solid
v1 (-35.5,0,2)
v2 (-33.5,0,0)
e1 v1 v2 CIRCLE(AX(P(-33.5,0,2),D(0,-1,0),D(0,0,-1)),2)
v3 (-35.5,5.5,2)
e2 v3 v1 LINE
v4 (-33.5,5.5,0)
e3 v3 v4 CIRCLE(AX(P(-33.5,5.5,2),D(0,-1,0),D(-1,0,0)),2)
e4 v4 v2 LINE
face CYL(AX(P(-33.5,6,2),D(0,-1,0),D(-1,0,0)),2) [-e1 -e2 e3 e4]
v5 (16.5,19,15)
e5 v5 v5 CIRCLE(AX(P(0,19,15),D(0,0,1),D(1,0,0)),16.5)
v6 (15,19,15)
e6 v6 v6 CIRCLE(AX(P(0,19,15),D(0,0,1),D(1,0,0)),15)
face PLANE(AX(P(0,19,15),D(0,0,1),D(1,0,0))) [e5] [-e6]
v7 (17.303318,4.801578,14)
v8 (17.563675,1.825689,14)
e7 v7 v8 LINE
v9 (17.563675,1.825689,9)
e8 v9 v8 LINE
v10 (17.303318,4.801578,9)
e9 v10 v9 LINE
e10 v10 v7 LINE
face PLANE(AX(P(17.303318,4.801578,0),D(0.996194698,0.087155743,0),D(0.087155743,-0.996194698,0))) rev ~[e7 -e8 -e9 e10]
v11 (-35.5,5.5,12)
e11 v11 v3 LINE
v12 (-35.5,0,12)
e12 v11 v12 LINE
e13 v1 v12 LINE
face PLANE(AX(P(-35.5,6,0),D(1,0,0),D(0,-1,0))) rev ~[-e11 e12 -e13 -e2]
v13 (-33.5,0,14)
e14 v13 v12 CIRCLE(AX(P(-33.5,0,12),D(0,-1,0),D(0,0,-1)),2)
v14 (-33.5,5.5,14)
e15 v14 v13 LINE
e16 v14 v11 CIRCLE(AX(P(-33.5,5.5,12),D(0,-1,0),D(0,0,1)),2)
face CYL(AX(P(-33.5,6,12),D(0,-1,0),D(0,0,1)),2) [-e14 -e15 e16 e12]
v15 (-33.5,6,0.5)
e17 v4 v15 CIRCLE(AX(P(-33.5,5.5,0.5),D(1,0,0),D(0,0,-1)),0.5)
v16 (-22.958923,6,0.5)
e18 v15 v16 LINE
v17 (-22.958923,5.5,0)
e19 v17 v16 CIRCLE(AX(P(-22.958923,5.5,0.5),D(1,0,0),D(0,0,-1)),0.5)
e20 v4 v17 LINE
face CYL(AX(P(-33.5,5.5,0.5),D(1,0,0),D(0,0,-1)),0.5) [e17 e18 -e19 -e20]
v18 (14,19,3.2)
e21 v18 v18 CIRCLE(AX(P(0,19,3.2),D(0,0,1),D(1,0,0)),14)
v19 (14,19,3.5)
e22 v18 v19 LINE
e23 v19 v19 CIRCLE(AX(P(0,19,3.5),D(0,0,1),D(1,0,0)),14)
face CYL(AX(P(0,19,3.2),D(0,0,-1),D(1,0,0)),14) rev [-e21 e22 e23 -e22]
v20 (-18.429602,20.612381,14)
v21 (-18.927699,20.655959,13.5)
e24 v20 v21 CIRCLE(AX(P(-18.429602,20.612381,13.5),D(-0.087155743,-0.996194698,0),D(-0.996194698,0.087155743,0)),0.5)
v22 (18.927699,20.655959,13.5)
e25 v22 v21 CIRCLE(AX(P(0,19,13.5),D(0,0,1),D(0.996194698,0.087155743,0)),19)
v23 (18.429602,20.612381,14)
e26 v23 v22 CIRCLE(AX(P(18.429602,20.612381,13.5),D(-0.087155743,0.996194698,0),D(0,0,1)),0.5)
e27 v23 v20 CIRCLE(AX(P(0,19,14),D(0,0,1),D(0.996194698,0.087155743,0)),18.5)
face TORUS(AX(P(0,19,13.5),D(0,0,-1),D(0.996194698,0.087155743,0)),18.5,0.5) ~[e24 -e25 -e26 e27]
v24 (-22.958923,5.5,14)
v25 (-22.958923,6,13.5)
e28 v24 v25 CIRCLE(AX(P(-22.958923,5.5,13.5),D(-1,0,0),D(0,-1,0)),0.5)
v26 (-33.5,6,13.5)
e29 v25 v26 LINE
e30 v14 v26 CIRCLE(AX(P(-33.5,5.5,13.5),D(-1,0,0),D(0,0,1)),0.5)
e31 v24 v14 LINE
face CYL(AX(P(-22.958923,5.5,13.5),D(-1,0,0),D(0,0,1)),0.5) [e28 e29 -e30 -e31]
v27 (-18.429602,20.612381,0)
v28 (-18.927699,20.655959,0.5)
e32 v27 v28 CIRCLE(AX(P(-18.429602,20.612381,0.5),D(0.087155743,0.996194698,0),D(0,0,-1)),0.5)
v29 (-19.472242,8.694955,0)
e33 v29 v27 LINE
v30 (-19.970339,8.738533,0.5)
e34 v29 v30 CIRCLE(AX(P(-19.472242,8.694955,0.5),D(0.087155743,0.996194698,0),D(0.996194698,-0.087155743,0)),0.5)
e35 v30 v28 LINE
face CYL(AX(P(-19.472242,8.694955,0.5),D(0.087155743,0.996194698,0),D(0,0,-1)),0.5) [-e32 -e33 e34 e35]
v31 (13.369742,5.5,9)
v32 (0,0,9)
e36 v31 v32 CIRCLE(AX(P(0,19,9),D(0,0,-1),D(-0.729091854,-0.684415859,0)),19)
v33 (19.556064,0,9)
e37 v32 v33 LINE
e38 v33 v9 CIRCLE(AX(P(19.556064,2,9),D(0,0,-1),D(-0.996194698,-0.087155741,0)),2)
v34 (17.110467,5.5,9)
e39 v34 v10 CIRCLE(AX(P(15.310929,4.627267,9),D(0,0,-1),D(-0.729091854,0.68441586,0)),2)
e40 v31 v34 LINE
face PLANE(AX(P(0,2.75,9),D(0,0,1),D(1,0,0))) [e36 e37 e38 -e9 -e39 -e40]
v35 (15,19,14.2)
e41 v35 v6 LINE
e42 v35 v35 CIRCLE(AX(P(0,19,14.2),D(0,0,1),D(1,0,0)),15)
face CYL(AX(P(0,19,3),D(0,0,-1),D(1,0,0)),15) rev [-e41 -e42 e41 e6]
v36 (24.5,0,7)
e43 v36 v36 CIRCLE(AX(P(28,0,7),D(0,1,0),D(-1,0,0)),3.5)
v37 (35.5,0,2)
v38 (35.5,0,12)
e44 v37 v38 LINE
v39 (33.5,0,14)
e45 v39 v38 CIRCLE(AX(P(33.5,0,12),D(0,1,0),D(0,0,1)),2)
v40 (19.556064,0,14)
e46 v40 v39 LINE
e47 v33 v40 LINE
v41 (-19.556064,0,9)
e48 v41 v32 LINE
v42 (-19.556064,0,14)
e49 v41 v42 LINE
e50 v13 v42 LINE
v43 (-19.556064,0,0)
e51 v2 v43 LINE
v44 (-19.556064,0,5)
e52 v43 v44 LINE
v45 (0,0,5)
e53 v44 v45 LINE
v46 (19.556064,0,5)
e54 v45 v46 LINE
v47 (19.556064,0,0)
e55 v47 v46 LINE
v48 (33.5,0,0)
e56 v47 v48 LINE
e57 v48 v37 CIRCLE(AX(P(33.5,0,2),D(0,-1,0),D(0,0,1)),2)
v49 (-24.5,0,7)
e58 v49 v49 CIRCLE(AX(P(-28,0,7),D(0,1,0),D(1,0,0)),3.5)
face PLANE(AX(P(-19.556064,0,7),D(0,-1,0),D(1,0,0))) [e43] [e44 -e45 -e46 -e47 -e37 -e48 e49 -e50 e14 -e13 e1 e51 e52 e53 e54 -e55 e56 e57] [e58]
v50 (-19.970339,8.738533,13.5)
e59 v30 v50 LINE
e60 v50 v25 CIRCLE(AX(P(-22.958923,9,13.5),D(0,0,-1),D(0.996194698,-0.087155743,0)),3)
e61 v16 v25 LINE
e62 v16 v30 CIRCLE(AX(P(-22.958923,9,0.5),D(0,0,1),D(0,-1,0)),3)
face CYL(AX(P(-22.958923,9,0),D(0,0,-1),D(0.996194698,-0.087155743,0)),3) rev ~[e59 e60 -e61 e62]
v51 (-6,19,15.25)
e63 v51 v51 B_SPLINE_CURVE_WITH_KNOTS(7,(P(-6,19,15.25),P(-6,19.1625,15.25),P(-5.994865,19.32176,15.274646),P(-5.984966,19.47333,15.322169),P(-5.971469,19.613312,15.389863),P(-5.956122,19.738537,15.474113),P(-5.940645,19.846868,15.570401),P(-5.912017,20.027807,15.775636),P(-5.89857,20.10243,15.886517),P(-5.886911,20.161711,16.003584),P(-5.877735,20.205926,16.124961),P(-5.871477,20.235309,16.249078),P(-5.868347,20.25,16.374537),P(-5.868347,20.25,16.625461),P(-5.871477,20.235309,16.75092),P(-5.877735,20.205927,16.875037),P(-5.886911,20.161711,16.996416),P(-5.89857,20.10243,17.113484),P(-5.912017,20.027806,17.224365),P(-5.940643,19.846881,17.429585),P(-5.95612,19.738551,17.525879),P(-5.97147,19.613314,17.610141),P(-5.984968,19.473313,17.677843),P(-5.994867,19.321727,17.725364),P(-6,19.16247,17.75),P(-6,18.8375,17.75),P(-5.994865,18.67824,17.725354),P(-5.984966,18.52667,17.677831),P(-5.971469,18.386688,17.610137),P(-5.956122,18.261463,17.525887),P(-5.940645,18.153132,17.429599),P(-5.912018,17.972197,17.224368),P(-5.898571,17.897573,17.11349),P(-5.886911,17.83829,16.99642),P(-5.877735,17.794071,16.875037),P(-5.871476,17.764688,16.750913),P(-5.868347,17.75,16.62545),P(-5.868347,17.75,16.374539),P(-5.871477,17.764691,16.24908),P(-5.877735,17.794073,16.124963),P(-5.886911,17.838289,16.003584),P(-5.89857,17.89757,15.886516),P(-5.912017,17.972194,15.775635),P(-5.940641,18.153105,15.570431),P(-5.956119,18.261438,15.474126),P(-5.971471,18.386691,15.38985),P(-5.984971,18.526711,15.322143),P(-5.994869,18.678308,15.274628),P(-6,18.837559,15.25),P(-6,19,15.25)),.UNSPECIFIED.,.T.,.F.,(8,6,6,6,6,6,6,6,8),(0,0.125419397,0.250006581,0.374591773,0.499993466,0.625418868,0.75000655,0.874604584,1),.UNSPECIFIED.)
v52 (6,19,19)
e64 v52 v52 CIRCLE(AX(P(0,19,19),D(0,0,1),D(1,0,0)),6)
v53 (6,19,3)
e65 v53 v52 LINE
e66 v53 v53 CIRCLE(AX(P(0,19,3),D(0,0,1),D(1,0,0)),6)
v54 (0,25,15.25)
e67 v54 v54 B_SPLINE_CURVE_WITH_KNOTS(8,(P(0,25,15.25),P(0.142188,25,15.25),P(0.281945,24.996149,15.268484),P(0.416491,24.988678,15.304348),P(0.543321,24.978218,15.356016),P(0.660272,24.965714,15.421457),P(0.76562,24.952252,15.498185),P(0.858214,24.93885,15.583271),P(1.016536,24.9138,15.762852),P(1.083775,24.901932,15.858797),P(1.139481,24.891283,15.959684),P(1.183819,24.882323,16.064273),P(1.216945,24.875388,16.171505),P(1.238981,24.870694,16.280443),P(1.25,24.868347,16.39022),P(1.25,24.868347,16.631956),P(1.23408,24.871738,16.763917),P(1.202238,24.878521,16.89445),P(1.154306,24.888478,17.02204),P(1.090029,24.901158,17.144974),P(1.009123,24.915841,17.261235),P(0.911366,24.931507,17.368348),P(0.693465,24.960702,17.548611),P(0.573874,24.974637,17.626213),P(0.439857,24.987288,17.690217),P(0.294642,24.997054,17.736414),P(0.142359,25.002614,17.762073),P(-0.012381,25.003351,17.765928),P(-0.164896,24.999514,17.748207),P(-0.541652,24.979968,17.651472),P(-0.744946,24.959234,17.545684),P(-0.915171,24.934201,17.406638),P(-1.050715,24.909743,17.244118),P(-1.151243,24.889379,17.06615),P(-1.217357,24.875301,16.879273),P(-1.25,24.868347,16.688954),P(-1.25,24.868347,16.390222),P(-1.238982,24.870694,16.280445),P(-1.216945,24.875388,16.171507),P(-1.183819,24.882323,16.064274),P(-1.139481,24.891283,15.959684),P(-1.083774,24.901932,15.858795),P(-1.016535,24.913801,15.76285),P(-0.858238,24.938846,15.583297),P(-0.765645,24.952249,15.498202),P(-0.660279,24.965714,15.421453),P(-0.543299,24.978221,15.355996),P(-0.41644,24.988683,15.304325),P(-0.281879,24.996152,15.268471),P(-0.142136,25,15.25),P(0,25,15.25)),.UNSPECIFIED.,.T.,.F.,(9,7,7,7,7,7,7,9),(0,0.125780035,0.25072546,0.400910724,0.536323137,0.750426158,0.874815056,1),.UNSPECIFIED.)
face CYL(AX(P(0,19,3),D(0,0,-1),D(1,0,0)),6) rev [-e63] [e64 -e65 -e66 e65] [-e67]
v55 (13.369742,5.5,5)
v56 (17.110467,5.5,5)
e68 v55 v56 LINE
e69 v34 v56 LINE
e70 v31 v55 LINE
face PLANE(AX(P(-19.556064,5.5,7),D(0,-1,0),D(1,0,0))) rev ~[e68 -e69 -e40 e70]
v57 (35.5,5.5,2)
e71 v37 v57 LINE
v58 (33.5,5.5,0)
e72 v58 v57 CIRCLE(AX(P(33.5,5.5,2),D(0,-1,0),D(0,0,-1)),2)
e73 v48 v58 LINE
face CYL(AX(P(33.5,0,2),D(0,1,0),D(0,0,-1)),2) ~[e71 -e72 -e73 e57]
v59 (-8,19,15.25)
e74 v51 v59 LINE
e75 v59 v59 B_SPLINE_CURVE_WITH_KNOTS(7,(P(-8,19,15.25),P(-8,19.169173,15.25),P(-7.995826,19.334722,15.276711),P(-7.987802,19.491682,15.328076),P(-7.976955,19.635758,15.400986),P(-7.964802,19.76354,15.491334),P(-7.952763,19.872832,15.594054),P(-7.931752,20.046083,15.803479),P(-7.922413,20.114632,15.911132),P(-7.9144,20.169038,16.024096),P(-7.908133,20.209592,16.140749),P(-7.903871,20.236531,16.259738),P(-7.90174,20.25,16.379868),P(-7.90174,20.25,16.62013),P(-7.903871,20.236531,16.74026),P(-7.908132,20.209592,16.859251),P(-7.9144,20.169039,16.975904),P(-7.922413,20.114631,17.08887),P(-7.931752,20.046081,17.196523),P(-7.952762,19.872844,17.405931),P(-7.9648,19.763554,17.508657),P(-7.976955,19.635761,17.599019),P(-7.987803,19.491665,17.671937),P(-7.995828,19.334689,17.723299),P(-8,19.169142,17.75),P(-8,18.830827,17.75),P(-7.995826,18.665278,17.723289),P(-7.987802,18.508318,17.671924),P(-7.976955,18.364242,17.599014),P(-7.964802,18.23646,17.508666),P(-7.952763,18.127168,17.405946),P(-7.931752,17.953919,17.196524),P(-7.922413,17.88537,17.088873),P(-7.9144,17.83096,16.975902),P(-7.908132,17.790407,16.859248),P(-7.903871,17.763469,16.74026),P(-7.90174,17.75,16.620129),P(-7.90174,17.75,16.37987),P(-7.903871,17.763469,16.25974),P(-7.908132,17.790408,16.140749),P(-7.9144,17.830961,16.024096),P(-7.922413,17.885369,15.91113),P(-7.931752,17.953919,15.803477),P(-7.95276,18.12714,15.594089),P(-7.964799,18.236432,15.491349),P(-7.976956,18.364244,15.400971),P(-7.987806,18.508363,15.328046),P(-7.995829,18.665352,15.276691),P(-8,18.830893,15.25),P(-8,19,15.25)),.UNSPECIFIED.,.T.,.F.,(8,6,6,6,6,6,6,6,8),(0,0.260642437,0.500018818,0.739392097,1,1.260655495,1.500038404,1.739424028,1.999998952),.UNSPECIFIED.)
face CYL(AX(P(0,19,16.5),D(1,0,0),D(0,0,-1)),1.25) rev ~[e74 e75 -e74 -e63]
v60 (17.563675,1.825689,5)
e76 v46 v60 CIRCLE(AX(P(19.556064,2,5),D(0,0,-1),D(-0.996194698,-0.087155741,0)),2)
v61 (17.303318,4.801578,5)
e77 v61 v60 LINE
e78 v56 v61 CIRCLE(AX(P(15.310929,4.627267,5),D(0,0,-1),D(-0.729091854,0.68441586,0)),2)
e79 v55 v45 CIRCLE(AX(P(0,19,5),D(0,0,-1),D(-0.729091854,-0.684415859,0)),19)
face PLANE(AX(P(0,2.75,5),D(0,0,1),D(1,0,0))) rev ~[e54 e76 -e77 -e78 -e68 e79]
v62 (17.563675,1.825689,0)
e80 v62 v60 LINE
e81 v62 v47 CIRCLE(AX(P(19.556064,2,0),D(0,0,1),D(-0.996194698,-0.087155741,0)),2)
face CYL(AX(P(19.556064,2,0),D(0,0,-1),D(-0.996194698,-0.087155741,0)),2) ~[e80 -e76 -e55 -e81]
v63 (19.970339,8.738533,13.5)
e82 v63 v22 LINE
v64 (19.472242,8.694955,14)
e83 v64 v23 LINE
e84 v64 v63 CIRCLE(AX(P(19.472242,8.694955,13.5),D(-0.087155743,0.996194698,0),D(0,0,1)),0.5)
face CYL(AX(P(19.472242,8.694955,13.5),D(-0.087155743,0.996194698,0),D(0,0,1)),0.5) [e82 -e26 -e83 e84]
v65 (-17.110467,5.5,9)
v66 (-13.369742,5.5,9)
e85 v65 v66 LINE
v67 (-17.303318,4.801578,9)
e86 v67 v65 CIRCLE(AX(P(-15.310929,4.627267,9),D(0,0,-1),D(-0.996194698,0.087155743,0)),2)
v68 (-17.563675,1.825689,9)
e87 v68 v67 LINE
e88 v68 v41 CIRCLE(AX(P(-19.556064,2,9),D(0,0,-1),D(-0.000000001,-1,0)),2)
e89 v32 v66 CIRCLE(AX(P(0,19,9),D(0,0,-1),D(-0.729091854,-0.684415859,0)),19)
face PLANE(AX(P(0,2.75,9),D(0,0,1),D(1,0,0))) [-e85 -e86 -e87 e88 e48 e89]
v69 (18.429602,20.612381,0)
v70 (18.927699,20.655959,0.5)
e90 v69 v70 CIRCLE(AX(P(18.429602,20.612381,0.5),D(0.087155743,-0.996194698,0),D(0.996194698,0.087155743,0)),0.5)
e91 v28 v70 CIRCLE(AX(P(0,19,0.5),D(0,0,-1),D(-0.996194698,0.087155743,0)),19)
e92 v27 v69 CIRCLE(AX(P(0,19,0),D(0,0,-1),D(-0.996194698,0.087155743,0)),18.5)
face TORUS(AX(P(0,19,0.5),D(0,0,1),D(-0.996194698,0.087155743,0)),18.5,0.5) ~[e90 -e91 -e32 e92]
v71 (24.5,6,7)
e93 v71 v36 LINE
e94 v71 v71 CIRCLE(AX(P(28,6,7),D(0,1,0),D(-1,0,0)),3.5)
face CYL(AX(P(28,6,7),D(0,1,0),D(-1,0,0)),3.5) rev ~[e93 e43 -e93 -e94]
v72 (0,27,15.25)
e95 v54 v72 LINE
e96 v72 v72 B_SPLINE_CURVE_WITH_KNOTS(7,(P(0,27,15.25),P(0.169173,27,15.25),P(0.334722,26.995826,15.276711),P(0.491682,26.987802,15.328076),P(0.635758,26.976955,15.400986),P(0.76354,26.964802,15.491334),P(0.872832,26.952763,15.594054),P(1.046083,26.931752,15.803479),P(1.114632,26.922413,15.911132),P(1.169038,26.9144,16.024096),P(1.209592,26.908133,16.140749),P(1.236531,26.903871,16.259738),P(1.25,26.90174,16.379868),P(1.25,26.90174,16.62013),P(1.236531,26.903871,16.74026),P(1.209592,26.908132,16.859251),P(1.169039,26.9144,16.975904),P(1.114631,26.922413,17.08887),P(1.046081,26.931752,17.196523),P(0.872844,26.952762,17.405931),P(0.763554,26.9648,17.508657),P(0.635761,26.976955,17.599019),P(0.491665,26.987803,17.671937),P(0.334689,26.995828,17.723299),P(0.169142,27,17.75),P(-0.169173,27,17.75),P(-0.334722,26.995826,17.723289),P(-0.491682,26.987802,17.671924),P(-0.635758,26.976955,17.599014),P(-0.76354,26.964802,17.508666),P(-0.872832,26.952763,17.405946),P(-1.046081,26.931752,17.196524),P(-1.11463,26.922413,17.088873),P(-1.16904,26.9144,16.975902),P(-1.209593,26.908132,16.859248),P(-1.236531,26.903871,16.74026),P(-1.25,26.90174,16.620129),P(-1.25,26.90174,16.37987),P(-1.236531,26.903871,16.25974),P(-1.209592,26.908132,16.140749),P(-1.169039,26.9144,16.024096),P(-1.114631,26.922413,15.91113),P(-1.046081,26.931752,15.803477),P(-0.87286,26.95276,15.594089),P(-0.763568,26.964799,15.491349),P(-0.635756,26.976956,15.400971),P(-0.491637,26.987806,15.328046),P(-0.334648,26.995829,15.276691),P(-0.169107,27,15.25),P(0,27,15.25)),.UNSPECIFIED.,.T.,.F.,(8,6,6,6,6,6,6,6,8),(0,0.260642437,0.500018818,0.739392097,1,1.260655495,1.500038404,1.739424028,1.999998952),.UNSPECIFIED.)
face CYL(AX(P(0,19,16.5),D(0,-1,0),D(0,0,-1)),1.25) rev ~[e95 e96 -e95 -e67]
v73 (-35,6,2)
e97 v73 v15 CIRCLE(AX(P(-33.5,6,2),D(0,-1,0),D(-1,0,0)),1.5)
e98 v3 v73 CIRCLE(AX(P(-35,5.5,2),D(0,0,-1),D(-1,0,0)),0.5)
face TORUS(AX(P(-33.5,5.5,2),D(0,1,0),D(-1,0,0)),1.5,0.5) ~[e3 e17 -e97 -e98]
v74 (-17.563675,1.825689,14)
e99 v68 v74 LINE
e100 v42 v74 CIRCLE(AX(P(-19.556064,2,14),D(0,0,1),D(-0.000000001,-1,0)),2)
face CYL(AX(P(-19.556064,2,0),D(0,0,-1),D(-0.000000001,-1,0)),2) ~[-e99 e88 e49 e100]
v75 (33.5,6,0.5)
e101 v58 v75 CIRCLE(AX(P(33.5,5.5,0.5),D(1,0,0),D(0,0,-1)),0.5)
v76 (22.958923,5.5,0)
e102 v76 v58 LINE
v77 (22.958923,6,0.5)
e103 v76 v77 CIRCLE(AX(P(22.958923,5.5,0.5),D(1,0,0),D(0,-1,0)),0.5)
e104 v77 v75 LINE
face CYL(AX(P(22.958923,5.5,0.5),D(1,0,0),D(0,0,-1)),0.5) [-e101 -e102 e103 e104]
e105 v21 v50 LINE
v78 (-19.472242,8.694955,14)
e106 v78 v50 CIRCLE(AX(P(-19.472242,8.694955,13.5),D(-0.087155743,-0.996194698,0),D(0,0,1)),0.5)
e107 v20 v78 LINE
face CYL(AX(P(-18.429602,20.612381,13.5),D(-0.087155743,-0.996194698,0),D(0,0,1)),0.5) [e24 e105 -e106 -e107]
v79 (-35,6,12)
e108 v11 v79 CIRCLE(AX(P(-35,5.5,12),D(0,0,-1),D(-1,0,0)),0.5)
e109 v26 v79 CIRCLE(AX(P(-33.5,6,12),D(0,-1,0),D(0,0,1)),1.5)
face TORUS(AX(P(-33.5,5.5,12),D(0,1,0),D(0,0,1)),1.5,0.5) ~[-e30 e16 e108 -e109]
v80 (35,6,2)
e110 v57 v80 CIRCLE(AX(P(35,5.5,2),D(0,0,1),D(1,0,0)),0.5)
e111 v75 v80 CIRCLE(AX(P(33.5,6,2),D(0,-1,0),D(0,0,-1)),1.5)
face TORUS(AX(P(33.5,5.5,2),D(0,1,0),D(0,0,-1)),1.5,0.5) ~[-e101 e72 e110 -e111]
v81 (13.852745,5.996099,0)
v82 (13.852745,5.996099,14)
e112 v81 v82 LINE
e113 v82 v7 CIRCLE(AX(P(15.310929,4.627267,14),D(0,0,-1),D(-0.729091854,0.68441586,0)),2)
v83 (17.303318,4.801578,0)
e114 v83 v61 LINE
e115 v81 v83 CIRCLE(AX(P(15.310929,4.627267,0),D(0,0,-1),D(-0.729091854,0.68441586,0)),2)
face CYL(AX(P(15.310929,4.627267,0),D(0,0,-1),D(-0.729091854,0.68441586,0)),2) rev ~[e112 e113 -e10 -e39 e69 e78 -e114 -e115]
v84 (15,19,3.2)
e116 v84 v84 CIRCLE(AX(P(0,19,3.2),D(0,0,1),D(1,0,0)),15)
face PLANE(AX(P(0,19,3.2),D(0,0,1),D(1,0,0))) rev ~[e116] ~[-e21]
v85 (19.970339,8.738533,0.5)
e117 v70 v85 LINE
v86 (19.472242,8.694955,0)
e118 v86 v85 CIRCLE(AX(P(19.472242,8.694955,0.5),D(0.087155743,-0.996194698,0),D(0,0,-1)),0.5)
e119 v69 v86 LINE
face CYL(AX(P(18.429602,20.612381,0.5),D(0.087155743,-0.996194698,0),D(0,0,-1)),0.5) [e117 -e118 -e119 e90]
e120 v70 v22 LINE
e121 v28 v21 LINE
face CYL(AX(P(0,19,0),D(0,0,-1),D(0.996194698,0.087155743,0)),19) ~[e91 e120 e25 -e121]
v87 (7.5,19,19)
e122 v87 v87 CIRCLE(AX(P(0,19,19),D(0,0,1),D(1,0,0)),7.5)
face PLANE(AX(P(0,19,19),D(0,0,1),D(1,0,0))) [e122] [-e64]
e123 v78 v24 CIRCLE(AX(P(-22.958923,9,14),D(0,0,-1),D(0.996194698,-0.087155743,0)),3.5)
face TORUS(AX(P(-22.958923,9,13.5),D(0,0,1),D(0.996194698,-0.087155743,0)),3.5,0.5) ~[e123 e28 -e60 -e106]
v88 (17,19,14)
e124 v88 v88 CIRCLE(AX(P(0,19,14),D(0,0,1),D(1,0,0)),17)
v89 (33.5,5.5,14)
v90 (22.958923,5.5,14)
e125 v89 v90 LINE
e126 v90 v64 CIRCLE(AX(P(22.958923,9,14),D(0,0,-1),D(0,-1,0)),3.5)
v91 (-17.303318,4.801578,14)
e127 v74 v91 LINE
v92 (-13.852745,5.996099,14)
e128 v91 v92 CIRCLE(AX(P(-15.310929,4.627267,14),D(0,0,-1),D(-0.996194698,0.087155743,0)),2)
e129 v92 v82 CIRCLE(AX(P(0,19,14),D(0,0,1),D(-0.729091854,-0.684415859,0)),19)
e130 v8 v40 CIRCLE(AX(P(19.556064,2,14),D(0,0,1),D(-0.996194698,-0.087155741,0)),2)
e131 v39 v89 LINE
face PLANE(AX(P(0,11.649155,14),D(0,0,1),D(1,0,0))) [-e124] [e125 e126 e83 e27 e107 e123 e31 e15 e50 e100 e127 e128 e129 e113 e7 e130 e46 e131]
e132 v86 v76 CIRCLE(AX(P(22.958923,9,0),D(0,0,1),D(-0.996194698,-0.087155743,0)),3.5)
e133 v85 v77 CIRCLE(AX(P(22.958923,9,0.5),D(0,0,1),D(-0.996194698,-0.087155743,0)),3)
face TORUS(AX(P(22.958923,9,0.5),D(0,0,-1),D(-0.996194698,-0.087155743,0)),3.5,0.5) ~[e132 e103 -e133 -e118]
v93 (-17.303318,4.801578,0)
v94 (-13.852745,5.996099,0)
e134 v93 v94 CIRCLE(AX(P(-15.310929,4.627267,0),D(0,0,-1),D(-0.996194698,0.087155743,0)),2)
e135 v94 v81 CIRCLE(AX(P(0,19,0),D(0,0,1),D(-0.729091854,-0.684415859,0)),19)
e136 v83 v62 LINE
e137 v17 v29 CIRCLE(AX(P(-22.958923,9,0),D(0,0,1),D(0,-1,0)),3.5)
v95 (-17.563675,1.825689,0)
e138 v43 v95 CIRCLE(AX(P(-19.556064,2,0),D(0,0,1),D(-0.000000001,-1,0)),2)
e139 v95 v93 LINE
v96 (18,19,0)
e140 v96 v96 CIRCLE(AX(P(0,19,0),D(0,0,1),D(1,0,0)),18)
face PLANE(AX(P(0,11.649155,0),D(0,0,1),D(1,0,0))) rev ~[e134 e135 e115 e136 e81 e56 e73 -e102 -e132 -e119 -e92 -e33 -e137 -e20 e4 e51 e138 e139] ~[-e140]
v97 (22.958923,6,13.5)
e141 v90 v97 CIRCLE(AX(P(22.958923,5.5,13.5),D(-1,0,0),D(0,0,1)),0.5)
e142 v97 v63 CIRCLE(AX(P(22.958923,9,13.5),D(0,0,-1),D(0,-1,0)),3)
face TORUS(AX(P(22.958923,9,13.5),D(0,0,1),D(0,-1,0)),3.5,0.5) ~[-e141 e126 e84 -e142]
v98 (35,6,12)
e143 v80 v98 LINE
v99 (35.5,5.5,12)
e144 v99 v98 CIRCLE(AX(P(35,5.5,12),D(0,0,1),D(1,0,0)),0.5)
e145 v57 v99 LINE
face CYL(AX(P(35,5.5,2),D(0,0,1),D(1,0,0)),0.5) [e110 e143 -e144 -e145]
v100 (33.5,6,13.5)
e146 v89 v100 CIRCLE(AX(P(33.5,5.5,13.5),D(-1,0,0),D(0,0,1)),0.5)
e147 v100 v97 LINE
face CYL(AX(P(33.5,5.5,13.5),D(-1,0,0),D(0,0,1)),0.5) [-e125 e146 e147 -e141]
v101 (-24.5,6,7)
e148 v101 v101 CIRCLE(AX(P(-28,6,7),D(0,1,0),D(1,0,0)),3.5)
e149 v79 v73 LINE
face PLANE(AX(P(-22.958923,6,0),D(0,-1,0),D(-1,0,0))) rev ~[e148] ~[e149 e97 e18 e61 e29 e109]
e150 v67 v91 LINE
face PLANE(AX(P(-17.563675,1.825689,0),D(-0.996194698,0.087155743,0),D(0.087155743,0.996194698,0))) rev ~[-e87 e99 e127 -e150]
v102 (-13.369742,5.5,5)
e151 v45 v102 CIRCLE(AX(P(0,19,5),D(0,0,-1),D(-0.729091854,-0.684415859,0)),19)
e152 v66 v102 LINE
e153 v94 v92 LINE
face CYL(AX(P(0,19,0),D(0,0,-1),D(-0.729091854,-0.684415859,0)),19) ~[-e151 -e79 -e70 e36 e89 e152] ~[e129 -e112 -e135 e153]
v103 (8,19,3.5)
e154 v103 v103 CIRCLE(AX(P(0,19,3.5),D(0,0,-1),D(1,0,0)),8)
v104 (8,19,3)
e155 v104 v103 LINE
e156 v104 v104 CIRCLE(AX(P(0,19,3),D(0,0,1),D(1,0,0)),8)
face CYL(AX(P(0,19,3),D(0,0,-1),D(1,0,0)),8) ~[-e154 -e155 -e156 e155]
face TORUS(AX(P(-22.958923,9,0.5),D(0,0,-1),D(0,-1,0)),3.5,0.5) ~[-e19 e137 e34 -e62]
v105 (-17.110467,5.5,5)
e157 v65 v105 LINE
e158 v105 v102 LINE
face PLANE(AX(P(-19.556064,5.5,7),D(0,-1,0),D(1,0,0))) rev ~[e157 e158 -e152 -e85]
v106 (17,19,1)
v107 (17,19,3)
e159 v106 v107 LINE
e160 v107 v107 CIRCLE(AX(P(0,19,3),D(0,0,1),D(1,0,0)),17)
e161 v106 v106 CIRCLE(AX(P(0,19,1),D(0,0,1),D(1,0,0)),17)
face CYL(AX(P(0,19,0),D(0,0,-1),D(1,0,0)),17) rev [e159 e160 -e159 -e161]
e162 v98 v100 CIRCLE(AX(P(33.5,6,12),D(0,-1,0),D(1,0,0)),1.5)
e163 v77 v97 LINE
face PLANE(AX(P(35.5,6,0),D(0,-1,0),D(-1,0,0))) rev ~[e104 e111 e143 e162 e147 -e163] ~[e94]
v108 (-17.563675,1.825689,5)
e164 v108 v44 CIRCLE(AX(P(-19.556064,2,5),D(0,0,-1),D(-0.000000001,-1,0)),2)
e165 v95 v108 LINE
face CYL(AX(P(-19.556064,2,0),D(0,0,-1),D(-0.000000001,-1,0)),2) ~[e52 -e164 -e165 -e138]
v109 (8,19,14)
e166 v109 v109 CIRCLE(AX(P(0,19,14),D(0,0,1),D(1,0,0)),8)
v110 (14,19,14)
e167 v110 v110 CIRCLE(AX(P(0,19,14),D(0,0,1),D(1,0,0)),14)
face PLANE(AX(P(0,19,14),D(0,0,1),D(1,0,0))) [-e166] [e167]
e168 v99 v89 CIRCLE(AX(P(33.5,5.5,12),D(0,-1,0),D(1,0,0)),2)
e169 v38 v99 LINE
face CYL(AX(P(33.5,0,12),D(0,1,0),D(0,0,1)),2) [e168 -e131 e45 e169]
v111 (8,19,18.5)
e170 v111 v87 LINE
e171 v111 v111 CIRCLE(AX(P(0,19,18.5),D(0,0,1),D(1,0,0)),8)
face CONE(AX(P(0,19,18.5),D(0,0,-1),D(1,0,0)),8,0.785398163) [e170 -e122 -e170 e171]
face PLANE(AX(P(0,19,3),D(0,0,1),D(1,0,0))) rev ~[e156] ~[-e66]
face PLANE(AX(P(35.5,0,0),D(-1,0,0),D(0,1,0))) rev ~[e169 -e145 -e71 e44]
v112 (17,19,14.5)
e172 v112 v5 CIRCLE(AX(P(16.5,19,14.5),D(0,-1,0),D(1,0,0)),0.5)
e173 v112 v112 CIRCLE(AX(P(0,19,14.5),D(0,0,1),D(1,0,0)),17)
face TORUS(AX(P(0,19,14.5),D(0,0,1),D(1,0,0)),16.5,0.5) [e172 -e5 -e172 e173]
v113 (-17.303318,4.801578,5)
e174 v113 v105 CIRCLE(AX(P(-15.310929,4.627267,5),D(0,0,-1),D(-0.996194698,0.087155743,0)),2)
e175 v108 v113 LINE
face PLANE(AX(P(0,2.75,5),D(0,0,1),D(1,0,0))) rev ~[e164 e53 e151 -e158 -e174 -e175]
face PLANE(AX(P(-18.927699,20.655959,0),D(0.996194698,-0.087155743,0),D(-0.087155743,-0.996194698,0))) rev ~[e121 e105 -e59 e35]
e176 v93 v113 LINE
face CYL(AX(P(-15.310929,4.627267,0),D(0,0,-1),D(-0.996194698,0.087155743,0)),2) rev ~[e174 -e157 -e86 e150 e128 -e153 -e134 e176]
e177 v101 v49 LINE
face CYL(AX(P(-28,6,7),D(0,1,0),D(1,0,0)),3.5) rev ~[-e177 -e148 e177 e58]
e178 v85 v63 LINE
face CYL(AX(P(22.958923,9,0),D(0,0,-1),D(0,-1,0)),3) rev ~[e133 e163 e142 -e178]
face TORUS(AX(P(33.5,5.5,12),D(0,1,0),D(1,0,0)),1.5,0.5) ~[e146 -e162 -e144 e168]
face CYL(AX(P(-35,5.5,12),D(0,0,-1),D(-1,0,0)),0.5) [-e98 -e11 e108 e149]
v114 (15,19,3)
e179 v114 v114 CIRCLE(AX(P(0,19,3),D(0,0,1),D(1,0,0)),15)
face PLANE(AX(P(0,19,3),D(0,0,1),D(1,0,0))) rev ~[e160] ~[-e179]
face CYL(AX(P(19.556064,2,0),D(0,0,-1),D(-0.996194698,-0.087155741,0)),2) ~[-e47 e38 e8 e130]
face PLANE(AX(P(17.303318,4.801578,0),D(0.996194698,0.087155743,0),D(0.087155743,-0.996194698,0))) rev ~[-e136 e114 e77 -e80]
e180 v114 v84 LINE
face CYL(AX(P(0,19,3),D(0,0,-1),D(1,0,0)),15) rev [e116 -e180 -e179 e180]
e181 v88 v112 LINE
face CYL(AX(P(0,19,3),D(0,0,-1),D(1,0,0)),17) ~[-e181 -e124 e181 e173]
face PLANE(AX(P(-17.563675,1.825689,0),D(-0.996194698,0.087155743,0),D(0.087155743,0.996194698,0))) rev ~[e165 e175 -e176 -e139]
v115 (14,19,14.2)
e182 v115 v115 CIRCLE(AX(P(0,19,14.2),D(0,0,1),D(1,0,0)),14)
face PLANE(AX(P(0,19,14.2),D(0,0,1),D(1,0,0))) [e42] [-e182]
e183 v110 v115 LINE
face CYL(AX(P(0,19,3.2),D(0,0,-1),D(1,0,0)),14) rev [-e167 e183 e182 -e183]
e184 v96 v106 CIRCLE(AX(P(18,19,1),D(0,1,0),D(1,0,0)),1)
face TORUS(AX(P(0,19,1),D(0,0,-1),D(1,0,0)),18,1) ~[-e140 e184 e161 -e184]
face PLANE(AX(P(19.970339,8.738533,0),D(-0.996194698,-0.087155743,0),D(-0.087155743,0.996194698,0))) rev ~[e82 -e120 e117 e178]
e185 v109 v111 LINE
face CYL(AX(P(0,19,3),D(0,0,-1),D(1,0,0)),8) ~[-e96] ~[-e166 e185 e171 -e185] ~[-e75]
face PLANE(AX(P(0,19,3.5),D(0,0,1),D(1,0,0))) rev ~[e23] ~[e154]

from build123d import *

# Parameters (mm, degrees)
SKETCH1_R               = 17
EXTRUDE_B_DEPTH         = 14
B1S_START               = 3
SKETCH1_3_R             = 17
SKETCH1_3_R_2           = 15
B1S_DEPTH               = 12
BOSS_EXTRUDE3_START     = 3.2
SKETCH1_4_R             = 15
SKETCH1_4_R_2           = 14
BOSS_EXTRUDE3_DEPTH     = 11
BOSS_EXTRUDE4_START     = 3.5
SKETCH1_6_R             = 14
SKETCH1_6_R_2           = 8
BOSS_EXTRUDE4_DEPTH     = 10.5
EXTRUDE_START           = 3
SKETCH1_7_R             = 8
SKETCH1_7_R_2           = 6
EXTRUDE_A_DEPTH         = 16
SKETCH2_W               = 39.112128712
SKETCH2_H               = 5.5
BOSS_EXTRUDE6_DEPTH     = 2
CUT_EXTRUDE1_REACH      = 57.365
CUT_EXTRUDE1_END_RADIUS = 8
SKETCH3_R               = 1.25
CIRPATTERN1_COUNT       = 2
CIRPATTERN1_ANGLE       = 90
FILLET1_R               = 2
FILLET2_R               = 0.5
FILLET3_R               = 1
CHAMFER1_SIZE           = 0.5
SKETCH4_R               = 3.5
CUT_EXTRUDE2_DEPTH      = 52.43199404


with BuildPart() as part:
    # Sketch1 → Extrude B (new body)
    with BuildSketch(Plane.XY):
        with BuildLine():
            Line((19.970338967, 8.738532772), (18.927699264, 20.655959112))
            ThreePointArc((18.927699264, 20.655959112), (0, 38), (-18.927699264, 20.655959112))
            Line((-18.927699264, 20.655959112), (-19.970338967, 8.738532772))
            ThreePointArc((-19.970338967, 8.738532772), (-20.932152438, 6.78816799), (-22.958923061, 6))
            Line((-22.958923061, 6), (-35.5, 6))
            Line((-35.5, 6), (-35.5, 0))
            Line((-35.5, 0), (-19.556064356, 0))
            ThreePointArc((-19.556064356, 0), (-18.20488394, 0.525445326), (-17.56367496, 1.825688515))
            Line((-17.56367496, 1.825688515), (-17.303318327, 4.801578438))
            ThreePointArc((-17.303318327, 4.801578438), (-15.965194608, 6.517223677), (-13.852745223, 5.996098671))
            ThreePointArc((-13.852745223, 5.996098671), (0, 0), (13.852745223, 5.996098671))
            ThreePointArc((13.852745223, 5.996098671), (15.965194608, 6.517223677), (17.303318327, 4.801578438))
            Line((17.303318327, 4.801578438), (17.56367496, 1.825688515))
            ThreePointArc((17.56367496, 1.825688515), (18.20488394, 0.525445326), (19.556064356, 0))
            Line((19.556064356, 0), (35.5, 0))
            Line((35.5, 0), (35.5, 6))
            Line((35.5, 6), (22.958923061, 6))
            ThreePointArc((22.958923061, 6), (20.932152438, 6.78816799), (19.970338967, 8.738532772))
        make_face()
        with Locations((0, 19)):
            Circle(SKETCH1_R, mode=Mode.SUBTRACT)
    extrude(amount=EXTRUDE_B_DEPTH)

    # Sketch1<3> → B1S (add)
    with BuildSketch(Plane.XY.offset(B1S_START)):
        with Locations((0, 19)):
            Circle(SKETCH1_3_R)
        with Locations((0, 19)):
            Circle(SKETCH1_3_R_2, mode=Mode.SUBTRACT)
    extrude(amount=B1S_DEPTH)

    # Sketch1<4> → Boss-Extrude3 (add)
    with BuildSketch(Plane.XY.offset(BOSS_EXTRUDE3_START)):
        with Locations((0, 19)):
            Circle(SKETCH1_4_R)
        with Locations((0, 19)):
            Circle(SKETCH1_4_R_2, mode=Mode.SUBTRACT)
    extrude(amount=BOSS_EXTRUDE3_DEPTH)

    # Sketch1<6> → Boss-Extrude4 (add)
    with BuildSketch(Plane.XY.offset(BOSS_EXTRUDE4_START)):
        with Locations((0, 19)):
            Circle(SKETCH1_6_R)
        with Locations(Location((0, 19, 0), (0, 0, 180))):
            Circle(SKETCH1_6_R_2, mode=Mode.SUBTRACT)
    extrude(amount=BOSS_EXTRUDE4_DEPTH)

    # Sketch1<7> → Extrude A (add)
    with BuildSketch(Plane.XY.offset(EXTRUDE_START)):
        with Locations((0, 19)):
            Circle(SKETCH1_7_R)
        with Locations((0, 19)):
            Circle(SKETCH1_7_R_2, mode=Mode.SUBTRACT)
    extrude(amount=EXTRUDE_A_DEPTH)

    # Sketch2 → Boss-Extrude6 (add, symmetric)
    with BuildSketch(Plane.XY.offset(7)):
        with Locations((0, 2.75)):
            Rectangle(SKETCH2_W, SKETCH2_H)
    extrude(amount=BOSS_EXTRUDE6_DEPTH, both=True)

    # Cut-Extrude1: up to this cylinder (the profile starts inside it)
    cut_extrude1_end = Plane(origin=(0, 19, 16.5), z_dir=(0, 0, -1)) * Cylinder(CUT_EXTRUDE1_END_RADIUS, 131.73, mode=Mode.PRIVATE)
    # Sketch3 → Cut-Extrude1 (cut, up to the surface)
    with BuildSketch(Plane(origin=(0, 0, 0), x_dir=(0, 0, -1), z_dir=(1, 0, 0)), mode=Mode.PRIVATE) as cut_extrude1_sk1:
        with Locations((-16.5, 19)):
            Circle(SKETCH3_R)
    cut_extrude1_tool1 = extrude(cut_extrude1_sk1.sketch, amount=-CUT_EXTRUDE1_REACH, mode=Mode.PRIVATE) & cut_extrude1_end
    cut_extrude1 = cut_extrude1_tool1.solids().sort_by_distance((0, 19, 16.5))[0]
    add(cut_extrude1, mode=Mode.SUBTRACT)

    # CirPattern1: Cut-Extrude1 ×2 about axis
    cirpattern1_axis = Axis((0, 19, 19), (0, 0, -1))
    for i in range(1, CIRPATTERN1_COUNT):
        add(cut_extrude1.rotate(cirpattern1_axis, i * CIRPATTERN1_ANGLE / (CIRPATTERN1_COUNT - 1)), mode=Mode.SUBTRACT)

    # Fillet1
    fillet1_edges = [part.edges().sort_by_distance(p)[0] for p in [
        (35.5, 3, 0),
        (-35.5, 3, 0),
        (-35.5, 3, 14),
        (35.5, 3, 14),
    ]]
    fillet(fillet1_edges, radius=FILLET1_R)

    # Fillet2
    fillet2_edges = [part.edges().sort_by_distance(p)[0] for p in [
        (19.449019115, 14.697245942, 14),
        (28.229461531, 6, 0),
        (-28.229461531, 6, 0),
        (-35.5, 6, 7),
        (-28.229461531, 6, 14),
        (-34.914213562, 6, 13.414213562),
        (-34.914213562, 6, 0.585786438),
        (0, 38, 14),
        (28.229461531, 6, 14),
        (35.5, 6, 7),
        (34.914213562, 6, 13.414213562),
        (34.914213562, 6, 0.585786438),
        (-19.449019115, 14.697245942, 14),
        (20.932152438, 6.78816799, 0),
        (-20.932152438, 6.78816799, 14),
        (-20.932152438, 6.78816799, 0),
        (-19.449019115, 14.697245942, 0),
        (0, 38, 0),
        (19.449019115, 14.697245942, 0),
        (-17, 19, 15),
        (20.932152438, 6.78816799, 14),
    ]]
    fillet(fillet2_edges, radius=FILLET2_R)

    # Fillet3
    fillet3_edges = [part.edges().sort_by_distance(p)[0] for p in [
        (-17, 19, 0),
    ]]
    fillet(fillet3_edges, radius=FILLET3_R)

    # Chamfer1
    chamfer1_edges = [part.edges().sort_by_distance(p)[0] for p in [
        (-8, 19, 19),
    ]]
    chamfer(chamfer1_edges, length=CHAMFER1_SIZE)

    # Sketch4 → Cut-Extrude2 (cut, through all)
    with BuildSketch(Plane(origin=(0, 6, 0), x_dir=(1, 0, 0), z_dir=(0, 1, 0))):
        with Locations(Location((28, -7, 0), (0, 0, 180))):
            Circle(SKETCH4_R)
        with Locations((-28, -7)):
            Circle(SKETCH4_R)
    extrude(amount=-CUT_EXTRUDE2_DEPTH, mode=Mode.SUBTRACT)


solid = part.part
